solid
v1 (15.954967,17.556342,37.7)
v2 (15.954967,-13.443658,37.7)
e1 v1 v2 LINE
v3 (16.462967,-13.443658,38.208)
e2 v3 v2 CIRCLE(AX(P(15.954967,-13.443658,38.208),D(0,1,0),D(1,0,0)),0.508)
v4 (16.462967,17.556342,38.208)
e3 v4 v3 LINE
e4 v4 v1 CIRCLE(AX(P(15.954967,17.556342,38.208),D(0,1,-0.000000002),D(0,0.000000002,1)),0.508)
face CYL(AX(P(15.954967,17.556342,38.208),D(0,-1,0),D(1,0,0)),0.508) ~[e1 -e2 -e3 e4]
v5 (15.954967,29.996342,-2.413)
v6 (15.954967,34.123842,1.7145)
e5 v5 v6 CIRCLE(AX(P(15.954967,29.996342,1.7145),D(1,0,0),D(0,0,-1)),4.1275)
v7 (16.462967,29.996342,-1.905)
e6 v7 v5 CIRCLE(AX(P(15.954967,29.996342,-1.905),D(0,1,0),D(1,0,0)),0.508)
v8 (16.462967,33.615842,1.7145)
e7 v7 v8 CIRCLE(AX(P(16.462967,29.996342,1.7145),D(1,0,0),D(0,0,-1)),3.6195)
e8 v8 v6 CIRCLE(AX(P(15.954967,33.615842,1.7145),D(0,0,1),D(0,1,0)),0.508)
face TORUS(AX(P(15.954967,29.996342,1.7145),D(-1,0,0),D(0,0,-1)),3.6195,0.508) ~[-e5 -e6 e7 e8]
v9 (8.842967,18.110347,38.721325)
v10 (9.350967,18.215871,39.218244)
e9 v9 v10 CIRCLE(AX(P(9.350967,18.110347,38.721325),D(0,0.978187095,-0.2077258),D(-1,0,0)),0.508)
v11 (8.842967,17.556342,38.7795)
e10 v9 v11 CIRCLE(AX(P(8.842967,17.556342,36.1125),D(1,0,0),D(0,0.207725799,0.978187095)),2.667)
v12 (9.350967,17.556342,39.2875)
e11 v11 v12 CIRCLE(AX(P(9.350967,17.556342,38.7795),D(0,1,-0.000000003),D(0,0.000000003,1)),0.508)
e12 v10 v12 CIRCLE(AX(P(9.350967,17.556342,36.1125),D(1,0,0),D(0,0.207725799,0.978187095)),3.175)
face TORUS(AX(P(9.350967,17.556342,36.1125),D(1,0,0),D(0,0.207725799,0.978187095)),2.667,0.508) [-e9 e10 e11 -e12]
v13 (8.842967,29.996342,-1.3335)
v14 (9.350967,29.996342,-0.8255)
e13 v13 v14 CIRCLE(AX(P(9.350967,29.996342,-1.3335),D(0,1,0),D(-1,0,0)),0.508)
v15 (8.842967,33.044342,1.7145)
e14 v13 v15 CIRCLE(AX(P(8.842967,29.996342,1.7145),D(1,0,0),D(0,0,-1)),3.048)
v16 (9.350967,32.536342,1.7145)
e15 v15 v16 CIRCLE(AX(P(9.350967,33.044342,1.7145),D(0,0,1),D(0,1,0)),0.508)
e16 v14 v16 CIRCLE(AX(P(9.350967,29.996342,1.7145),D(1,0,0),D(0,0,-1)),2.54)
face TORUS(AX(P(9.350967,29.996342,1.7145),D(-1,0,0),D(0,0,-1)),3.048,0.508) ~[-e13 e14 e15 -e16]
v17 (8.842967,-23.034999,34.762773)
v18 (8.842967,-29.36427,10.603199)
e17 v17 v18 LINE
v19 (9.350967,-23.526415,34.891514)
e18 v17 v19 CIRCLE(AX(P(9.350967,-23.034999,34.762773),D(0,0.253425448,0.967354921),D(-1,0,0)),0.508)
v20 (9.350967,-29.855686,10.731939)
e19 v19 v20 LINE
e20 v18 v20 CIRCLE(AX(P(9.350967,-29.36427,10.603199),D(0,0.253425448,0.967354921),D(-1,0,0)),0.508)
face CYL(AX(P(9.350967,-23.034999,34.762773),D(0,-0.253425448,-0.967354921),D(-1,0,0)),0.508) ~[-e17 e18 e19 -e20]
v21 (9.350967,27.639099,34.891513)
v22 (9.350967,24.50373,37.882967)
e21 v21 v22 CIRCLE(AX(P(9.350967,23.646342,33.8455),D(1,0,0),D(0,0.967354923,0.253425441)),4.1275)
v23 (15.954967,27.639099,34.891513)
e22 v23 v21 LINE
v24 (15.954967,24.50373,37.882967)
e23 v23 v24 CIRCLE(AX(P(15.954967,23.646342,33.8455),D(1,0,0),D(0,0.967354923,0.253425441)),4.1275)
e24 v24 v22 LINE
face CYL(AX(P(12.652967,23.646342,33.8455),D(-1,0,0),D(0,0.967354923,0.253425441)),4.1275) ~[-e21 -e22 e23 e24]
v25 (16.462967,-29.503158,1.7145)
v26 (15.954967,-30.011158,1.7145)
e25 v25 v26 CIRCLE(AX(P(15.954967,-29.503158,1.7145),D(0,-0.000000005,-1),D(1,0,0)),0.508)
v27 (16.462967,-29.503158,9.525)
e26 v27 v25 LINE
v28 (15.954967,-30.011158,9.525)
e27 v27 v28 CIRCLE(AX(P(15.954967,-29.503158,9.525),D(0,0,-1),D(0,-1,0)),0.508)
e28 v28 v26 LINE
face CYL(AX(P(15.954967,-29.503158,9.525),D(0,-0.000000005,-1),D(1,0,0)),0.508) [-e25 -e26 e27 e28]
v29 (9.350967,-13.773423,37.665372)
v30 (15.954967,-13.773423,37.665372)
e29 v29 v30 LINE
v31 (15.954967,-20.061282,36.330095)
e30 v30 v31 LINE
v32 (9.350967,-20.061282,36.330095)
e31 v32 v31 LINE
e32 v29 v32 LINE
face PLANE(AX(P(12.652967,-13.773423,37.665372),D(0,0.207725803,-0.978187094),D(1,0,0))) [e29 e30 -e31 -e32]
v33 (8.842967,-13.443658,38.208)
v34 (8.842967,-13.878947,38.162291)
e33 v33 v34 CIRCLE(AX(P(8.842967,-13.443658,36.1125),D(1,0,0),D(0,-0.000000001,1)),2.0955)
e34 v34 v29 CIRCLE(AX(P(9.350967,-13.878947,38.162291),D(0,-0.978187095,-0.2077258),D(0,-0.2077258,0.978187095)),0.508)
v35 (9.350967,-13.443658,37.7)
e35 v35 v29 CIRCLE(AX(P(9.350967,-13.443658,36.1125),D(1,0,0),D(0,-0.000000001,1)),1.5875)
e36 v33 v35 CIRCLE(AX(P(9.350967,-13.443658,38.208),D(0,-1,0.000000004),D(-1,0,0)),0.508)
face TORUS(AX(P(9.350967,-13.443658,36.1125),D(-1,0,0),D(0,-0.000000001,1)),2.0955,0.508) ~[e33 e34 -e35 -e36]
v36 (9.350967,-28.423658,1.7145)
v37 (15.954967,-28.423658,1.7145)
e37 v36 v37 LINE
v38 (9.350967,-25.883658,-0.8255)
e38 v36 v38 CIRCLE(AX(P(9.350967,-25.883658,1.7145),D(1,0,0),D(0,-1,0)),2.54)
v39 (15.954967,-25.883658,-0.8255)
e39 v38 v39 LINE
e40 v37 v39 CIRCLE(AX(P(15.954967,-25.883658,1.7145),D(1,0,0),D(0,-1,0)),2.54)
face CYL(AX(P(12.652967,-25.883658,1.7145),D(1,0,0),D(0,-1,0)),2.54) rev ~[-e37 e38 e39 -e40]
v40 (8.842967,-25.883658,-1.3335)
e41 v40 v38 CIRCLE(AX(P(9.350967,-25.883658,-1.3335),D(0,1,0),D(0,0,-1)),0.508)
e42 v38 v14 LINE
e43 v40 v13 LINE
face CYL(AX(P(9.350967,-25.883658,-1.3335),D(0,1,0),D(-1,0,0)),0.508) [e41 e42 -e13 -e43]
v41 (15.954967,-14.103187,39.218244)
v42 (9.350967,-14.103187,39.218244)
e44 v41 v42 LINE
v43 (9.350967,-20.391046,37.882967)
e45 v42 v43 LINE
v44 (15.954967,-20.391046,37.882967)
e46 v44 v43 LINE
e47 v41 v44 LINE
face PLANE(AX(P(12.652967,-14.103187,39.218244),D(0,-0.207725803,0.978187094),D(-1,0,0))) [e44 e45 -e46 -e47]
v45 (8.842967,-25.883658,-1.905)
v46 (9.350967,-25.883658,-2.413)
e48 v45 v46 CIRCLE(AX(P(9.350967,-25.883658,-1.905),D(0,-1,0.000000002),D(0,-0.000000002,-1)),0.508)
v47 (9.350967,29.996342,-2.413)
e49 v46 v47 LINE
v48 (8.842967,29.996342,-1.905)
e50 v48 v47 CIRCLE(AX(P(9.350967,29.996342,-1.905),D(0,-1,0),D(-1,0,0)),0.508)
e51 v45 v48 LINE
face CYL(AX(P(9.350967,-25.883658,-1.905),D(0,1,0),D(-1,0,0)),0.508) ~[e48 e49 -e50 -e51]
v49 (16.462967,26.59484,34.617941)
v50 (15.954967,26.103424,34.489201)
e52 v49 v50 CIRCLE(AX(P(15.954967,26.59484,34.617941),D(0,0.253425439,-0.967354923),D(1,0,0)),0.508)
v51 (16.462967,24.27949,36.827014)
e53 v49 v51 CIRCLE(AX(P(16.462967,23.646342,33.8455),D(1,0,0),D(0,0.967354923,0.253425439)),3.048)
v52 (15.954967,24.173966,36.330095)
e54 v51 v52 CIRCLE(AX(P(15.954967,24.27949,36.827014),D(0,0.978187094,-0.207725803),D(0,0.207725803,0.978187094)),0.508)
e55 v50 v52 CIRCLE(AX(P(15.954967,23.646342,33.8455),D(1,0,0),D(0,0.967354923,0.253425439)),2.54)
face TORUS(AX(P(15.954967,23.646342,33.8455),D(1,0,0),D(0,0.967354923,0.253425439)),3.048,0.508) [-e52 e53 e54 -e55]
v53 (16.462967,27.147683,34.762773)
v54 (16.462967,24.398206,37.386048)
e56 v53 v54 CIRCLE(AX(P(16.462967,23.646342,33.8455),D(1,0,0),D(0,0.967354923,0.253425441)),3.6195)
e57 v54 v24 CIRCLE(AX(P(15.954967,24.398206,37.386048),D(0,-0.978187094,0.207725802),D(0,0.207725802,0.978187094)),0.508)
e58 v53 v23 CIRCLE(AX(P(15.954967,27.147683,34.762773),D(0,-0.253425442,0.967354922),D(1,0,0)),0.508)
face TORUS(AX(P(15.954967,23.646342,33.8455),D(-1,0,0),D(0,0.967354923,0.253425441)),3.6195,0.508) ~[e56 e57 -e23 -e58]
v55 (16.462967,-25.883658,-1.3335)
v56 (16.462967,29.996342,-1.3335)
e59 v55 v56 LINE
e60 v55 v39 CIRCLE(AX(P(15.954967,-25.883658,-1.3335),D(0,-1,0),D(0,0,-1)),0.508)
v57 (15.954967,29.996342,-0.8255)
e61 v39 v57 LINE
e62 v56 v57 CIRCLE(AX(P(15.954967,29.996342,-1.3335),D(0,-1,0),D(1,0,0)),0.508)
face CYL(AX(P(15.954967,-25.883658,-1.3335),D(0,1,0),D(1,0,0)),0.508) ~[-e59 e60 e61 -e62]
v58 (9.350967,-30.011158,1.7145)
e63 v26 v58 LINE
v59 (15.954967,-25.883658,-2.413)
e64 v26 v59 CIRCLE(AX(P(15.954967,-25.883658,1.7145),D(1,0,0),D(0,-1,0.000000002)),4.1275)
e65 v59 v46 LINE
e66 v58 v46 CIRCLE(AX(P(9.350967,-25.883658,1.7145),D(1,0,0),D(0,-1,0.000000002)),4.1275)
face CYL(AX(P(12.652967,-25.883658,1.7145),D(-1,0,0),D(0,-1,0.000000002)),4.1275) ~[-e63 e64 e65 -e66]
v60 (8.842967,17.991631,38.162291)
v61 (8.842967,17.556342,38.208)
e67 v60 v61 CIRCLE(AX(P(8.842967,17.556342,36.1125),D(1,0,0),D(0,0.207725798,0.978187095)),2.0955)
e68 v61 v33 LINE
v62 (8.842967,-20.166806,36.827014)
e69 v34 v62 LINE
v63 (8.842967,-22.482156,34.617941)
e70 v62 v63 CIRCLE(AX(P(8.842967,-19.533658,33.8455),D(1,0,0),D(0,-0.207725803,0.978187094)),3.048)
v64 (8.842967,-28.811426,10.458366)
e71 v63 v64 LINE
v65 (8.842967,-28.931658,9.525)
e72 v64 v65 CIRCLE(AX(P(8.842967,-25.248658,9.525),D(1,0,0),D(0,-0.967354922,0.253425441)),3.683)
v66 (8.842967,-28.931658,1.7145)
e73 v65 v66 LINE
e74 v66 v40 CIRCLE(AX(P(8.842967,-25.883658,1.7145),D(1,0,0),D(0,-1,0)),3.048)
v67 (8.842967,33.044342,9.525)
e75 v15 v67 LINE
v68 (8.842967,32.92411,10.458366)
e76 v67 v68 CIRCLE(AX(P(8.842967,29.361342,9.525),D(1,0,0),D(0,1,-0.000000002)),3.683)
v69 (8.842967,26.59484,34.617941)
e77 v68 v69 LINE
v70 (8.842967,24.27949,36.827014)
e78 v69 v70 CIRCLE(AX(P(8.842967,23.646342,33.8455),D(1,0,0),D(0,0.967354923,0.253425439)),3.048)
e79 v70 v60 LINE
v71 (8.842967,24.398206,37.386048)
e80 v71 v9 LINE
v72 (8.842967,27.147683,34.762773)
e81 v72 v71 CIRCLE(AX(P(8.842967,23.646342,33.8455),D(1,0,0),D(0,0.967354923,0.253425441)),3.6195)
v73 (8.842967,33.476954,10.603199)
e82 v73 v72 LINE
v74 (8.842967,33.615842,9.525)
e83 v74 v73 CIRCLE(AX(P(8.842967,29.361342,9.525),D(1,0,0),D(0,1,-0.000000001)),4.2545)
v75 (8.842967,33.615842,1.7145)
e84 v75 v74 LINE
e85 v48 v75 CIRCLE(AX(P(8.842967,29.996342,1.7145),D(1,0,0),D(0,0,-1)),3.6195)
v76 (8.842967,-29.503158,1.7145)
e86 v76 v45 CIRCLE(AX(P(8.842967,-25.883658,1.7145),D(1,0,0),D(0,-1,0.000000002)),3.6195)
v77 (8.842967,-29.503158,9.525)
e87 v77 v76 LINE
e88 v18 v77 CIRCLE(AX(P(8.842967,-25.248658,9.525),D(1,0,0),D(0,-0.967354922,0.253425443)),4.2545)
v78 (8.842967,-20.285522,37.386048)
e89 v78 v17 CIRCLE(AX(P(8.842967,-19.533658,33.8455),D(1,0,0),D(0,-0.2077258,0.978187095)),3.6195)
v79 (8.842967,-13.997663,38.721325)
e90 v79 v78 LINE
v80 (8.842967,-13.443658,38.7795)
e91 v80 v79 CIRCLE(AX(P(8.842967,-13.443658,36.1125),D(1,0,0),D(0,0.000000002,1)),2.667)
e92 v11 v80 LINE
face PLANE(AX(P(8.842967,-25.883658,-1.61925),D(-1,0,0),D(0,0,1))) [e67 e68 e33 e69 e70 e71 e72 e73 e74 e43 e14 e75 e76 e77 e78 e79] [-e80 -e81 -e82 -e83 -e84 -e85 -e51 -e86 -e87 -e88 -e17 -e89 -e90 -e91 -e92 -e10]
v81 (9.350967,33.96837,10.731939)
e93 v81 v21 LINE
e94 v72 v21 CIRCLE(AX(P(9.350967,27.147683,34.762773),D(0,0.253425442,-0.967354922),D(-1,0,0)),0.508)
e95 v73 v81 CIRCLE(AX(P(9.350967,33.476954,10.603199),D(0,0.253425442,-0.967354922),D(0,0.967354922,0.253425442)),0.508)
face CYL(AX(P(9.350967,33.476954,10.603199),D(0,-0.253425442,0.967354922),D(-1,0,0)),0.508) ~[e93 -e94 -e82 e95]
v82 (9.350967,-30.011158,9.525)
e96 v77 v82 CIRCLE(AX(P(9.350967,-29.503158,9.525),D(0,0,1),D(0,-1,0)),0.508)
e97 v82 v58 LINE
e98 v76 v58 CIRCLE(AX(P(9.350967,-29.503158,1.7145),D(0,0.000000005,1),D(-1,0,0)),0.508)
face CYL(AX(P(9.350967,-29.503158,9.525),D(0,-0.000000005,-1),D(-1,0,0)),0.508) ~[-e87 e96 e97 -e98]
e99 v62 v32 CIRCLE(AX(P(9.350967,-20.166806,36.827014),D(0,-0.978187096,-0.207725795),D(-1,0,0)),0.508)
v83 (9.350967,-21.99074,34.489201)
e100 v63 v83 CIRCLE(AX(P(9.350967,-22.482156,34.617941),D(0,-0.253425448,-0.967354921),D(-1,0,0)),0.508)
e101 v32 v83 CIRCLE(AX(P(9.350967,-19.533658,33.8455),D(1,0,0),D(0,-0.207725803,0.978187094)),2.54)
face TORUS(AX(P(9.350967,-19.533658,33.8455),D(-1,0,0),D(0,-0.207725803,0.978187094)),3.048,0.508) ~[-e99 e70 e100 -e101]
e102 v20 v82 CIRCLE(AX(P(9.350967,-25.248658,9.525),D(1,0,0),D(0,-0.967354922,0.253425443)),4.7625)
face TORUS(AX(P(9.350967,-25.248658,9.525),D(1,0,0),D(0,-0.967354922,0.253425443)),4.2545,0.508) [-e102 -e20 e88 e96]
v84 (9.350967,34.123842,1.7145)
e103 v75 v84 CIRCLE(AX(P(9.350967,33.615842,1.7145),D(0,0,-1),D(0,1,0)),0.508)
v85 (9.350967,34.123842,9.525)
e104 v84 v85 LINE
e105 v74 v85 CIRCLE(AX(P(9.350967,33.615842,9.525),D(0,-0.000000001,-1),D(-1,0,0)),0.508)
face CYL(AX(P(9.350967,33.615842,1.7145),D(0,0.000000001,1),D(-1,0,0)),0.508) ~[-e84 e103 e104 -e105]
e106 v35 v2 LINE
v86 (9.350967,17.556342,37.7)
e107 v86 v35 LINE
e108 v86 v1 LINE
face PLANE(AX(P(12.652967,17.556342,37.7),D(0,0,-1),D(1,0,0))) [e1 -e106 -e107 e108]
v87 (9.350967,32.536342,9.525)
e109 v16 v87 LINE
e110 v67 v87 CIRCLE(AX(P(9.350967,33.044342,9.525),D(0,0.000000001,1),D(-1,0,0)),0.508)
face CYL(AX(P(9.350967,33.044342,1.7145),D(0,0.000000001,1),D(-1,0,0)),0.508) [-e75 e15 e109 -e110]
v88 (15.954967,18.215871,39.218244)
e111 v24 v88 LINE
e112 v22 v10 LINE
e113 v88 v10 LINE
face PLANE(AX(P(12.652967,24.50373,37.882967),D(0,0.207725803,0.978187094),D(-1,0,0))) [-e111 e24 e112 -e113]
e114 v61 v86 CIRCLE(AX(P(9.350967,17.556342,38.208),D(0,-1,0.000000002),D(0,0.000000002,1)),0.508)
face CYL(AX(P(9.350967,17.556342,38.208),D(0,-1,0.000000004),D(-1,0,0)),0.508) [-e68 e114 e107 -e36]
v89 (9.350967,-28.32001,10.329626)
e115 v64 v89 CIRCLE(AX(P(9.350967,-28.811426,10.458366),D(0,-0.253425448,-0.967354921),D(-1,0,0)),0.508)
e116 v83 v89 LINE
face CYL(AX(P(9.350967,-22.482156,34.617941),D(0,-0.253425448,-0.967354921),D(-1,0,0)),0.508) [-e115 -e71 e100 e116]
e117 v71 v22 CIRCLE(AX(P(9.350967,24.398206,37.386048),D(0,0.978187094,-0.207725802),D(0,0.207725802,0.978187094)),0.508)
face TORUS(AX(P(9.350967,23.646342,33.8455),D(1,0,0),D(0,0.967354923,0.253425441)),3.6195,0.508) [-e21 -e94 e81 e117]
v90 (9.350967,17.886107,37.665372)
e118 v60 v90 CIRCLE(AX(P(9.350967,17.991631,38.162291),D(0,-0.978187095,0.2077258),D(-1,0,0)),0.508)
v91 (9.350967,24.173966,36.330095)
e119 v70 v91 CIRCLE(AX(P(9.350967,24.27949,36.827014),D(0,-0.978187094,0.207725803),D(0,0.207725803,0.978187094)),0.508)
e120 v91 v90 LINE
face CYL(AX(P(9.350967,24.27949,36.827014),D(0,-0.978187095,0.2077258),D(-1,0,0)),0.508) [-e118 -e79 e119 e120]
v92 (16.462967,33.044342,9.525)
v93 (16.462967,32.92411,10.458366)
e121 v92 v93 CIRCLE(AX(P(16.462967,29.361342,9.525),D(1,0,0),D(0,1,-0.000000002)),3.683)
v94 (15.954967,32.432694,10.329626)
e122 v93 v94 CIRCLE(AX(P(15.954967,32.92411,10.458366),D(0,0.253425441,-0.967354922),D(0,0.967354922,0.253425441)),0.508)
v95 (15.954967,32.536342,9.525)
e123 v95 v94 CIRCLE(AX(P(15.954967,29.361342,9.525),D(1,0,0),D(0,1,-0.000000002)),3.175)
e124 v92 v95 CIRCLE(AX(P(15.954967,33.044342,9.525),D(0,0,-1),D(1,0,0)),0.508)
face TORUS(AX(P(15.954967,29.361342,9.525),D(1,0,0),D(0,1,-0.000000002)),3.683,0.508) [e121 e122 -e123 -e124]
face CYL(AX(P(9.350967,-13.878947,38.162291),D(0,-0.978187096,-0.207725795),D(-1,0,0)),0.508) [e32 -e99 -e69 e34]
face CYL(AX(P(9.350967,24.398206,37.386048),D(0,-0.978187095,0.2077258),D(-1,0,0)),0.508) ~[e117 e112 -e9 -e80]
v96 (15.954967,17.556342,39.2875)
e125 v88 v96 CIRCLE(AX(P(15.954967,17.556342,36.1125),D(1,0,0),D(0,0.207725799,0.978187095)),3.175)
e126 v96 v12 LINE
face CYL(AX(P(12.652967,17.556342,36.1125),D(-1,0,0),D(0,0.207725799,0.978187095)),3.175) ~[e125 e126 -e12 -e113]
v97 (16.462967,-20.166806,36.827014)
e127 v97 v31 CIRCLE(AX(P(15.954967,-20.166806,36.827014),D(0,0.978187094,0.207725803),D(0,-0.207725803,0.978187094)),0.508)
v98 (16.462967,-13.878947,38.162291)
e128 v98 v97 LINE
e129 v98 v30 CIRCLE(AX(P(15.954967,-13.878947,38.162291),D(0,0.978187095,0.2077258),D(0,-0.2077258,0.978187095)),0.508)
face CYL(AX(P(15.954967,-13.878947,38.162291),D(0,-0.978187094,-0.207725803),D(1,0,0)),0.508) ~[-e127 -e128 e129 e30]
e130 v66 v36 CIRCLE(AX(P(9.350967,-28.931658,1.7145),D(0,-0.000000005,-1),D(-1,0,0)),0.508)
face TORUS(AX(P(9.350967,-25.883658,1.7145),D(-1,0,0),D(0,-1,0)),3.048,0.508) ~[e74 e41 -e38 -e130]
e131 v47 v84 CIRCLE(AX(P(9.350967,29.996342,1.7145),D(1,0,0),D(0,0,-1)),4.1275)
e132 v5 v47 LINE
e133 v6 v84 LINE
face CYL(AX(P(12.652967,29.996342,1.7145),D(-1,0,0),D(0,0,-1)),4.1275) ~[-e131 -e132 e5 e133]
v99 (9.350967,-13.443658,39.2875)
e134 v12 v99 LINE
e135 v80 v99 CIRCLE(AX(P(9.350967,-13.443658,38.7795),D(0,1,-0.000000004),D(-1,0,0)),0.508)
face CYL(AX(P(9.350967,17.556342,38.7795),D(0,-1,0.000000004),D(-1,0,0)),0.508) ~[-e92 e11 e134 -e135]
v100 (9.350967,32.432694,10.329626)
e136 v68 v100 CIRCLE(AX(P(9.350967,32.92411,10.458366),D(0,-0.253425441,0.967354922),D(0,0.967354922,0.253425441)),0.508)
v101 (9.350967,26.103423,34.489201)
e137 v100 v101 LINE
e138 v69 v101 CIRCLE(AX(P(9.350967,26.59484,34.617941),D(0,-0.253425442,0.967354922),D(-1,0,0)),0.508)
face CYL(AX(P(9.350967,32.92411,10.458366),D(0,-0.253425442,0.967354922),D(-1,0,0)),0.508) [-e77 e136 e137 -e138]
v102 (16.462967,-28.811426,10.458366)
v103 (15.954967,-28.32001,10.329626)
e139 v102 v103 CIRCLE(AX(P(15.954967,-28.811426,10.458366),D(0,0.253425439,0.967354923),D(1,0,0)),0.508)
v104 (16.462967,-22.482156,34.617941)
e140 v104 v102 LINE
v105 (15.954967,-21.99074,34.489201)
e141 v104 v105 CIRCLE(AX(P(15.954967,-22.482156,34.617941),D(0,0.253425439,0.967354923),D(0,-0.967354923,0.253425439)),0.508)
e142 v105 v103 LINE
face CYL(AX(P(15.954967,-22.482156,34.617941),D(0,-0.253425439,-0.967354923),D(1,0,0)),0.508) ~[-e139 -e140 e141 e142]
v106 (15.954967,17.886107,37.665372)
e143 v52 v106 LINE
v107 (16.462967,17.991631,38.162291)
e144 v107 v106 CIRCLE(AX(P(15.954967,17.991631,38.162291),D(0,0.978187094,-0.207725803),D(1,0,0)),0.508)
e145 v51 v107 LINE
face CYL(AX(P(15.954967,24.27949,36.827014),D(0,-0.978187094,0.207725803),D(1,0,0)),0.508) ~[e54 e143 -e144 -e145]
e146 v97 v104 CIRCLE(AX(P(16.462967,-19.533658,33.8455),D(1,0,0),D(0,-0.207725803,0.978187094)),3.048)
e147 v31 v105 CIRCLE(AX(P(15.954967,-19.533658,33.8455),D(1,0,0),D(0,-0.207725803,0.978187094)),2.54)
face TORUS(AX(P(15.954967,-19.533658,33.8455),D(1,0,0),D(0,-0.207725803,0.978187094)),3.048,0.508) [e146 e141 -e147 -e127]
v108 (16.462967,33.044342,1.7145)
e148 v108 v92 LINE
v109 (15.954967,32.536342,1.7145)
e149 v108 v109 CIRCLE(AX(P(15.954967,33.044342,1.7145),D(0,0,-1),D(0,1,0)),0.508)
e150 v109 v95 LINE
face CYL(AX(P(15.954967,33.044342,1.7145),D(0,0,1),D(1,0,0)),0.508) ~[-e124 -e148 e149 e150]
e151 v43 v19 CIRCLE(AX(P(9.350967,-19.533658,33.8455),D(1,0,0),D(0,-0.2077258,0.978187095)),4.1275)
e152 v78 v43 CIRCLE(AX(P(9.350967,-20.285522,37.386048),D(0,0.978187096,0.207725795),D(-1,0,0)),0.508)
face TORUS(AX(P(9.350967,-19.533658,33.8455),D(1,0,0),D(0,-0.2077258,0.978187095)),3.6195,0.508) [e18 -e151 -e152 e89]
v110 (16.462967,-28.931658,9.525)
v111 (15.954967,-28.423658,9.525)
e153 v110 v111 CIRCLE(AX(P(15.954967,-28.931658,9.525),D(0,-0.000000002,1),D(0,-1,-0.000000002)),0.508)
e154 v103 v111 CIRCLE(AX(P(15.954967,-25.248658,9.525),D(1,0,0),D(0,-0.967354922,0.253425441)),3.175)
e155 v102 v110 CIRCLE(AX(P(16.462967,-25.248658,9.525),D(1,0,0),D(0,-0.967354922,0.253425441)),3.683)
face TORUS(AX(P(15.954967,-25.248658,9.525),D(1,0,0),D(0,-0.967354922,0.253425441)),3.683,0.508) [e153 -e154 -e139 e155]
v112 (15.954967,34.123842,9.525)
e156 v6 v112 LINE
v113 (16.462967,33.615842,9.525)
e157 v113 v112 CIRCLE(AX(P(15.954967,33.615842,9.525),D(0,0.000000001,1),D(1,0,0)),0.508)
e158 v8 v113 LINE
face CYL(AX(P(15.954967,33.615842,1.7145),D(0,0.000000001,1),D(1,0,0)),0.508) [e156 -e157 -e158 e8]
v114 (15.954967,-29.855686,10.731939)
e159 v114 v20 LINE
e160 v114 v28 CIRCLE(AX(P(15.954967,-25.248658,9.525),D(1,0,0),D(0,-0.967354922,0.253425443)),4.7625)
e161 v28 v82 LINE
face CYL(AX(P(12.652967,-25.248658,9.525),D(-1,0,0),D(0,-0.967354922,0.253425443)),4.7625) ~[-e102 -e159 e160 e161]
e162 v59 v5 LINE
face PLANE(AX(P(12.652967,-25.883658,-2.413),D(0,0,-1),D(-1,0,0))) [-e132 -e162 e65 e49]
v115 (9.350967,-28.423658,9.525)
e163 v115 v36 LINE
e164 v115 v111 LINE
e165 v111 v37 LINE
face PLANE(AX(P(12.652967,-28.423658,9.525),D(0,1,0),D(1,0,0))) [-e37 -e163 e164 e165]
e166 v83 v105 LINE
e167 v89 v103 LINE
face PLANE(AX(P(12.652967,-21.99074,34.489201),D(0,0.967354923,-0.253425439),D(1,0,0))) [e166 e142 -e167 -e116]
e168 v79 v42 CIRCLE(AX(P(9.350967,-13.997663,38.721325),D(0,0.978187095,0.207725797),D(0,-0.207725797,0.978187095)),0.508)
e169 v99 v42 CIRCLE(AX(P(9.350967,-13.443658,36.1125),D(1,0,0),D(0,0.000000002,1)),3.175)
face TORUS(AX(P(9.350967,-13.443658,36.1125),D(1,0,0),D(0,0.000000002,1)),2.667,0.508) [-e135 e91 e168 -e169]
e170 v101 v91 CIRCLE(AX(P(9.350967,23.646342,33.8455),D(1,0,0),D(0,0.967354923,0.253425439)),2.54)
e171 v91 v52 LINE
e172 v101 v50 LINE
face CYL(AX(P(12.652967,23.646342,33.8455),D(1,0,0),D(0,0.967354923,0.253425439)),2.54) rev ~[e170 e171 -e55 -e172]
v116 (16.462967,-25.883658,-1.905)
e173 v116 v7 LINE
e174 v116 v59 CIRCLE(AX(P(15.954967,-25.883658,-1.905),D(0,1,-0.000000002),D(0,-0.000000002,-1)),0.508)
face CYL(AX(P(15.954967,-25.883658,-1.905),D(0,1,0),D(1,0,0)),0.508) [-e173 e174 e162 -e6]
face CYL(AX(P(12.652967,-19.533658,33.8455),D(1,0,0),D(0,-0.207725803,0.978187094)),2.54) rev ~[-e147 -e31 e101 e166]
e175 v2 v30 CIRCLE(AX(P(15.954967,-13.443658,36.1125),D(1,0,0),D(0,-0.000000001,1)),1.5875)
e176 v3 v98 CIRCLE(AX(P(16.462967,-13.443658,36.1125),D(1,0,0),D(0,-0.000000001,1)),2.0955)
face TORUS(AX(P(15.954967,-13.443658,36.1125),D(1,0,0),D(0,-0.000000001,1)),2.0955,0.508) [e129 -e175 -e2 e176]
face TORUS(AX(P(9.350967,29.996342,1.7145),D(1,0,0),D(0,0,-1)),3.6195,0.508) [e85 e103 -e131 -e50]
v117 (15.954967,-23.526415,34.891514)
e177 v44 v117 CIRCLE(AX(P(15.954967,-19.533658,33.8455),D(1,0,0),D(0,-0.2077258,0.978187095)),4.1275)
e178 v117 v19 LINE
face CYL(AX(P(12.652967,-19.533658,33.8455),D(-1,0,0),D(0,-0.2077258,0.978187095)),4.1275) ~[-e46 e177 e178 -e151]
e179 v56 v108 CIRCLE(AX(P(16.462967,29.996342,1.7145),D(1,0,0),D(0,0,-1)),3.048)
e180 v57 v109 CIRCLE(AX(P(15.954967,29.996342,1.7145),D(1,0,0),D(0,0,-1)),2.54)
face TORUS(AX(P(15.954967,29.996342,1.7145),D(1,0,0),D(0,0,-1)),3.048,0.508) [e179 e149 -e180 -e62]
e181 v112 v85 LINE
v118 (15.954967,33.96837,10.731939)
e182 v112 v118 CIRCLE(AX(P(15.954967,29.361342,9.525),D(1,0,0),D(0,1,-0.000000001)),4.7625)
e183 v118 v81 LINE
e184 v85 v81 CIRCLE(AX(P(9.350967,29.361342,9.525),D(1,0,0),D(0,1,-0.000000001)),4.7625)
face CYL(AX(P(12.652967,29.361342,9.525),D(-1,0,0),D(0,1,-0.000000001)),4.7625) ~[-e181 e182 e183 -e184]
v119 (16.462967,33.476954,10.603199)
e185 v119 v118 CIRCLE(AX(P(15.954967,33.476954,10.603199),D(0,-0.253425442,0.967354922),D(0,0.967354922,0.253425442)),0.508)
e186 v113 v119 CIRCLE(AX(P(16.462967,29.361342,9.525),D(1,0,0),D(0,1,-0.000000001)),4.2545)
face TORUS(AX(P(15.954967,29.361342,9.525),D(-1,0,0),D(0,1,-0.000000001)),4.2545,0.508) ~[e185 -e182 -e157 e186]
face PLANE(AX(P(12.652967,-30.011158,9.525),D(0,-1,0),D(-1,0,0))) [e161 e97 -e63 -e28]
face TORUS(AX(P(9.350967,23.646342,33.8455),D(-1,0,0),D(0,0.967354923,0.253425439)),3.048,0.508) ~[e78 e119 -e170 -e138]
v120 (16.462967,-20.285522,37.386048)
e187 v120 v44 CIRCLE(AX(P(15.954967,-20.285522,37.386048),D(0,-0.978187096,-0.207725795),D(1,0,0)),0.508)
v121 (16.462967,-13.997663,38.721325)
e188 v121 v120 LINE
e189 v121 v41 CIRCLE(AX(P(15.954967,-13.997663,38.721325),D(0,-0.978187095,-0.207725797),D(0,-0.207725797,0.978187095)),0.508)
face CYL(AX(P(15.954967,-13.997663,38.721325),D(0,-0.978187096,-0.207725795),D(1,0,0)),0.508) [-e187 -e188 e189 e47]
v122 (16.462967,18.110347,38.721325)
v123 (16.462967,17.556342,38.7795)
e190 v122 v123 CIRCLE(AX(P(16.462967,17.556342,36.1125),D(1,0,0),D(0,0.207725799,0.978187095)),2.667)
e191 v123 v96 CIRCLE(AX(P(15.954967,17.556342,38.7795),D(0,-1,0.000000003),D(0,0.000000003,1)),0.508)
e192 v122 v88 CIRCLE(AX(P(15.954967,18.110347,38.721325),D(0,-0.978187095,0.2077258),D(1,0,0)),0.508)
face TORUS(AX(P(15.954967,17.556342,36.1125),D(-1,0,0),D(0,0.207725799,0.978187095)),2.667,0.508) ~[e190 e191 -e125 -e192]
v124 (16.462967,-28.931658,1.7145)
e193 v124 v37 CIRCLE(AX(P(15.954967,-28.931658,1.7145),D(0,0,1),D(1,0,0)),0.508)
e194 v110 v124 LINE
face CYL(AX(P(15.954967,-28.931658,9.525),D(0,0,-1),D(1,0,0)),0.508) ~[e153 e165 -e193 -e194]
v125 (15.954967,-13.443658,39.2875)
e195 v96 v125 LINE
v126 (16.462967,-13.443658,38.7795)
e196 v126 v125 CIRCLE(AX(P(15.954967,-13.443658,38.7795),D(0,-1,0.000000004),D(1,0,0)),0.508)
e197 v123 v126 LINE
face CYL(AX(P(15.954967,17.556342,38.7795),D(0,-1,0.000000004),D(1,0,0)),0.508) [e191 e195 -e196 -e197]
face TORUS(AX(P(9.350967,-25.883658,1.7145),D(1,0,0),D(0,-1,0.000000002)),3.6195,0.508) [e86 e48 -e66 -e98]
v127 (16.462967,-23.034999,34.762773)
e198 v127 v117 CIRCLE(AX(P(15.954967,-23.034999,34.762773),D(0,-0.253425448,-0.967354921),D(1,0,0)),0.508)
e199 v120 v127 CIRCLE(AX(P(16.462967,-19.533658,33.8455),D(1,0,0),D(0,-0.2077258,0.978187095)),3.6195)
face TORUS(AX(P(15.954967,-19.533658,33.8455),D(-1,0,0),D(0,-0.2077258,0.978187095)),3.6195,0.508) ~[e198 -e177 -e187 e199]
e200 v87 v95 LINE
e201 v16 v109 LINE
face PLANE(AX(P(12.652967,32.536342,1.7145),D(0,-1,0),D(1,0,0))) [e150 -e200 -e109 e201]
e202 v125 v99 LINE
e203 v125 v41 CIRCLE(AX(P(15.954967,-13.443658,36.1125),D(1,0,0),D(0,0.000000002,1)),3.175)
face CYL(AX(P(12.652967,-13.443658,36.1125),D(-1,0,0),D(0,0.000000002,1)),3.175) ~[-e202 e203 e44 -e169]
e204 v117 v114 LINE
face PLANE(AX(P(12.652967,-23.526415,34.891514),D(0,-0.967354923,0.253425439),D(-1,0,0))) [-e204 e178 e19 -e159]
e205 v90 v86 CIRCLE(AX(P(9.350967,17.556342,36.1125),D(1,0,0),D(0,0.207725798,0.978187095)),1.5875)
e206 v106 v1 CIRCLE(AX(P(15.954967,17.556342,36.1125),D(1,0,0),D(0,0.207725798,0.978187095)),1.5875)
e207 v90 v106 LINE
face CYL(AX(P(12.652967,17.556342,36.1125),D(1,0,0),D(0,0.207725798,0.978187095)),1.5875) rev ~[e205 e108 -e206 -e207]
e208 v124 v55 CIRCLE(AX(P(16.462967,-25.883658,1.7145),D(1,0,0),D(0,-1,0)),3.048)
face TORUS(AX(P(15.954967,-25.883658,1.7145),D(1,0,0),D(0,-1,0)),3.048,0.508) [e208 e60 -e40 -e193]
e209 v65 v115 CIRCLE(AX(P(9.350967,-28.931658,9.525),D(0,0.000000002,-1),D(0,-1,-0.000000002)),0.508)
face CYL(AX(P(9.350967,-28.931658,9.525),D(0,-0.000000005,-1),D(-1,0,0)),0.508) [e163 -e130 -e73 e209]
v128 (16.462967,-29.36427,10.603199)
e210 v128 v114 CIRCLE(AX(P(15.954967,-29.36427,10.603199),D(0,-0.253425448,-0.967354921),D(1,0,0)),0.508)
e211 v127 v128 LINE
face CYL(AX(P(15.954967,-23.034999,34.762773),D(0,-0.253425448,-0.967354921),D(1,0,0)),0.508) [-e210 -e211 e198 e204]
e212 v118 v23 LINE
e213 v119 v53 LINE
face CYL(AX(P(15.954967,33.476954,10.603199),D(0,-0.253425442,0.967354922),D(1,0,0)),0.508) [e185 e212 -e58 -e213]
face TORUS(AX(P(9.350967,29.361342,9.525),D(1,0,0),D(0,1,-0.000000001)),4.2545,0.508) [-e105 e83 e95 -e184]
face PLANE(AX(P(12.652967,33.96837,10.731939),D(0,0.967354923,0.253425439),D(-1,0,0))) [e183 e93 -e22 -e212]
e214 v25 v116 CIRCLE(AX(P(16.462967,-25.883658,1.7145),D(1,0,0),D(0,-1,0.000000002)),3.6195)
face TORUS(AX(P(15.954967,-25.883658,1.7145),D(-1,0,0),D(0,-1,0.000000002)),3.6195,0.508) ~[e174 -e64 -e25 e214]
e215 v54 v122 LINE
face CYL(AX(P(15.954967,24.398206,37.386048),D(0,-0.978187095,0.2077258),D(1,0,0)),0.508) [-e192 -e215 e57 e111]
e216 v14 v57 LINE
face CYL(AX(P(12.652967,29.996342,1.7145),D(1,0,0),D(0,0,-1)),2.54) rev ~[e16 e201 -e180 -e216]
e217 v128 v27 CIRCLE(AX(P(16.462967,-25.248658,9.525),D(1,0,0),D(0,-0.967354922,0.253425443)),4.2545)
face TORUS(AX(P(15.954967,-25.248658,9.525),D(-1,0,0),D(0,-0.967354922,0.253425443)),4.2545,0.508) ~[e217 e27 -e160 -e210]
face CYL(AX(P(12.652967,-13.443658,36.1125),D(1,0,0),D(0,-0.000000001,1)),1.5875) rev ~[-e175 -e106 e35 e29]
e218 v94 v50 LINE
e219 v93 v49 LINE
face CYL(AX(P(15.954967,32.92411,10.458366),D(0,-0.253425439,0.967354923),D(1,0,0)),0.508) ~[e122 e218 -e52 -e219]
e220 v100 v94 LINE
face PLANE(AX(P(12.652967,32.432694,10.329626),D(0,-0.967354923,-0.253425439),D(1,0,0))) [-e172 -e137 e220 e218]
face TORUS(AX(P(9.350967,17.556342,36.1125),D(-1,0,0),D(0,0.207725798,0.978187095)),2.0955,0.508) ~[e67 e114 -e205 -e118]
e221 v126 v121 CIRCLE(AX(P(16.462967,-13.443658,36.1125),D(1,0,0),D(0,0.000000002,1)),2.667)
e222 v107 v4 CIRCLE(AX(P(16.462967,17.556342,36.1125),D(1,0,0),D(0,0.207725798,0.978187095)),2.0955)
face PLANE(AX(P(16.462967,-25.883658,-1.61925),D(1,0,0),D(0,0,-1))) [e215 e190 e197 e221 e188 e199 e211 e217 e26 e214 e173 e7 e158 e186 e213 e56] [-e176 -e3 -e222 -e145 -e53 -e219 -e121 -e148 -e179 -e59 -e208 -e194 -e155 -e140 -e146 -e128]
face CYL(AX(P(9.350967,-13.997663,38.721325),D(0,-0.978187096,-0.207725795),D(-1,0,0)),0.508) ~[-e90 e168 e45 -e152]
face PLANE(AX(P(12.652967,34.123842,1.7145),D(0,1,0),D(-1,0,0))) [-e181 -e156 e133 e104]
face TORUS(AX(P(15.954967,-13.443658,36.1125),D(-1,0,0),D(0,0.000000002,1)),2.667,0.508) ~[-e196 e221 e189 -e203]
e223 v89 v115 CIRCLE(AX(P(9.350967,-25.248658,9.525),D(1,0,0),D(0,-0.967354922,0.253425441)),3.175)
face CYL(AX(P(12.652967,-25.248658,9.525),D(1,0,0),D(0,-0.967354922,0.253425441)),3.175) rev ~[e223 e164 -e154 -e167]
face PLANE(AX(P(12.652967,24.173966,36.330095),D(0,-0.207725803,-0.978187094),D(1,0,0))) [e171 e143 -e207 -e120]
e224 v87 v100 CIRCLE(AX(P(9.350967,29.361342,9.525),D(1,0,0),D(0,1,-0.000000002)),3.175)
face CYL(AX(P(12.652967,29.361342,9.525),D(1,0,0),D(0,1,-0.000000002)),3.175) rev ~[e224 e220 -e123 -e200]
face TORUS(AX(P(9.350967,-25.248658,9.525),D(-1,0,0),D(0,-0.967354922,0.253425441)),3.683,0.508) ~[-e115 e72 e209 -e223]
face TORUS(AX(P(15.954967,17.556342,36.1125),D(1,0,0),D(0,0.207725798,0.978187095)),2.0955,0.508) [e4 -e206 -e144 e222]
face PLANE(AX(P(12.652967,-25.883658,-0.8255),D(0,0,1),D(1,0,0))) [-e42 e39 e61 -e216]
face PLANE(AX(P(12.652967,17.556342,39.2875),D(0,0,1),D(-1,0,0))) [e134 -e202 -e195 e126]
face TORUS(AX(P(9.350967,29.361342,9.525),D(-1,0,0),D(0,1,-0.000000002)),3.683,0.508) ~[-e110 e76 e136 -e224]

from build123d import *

# Parameters (mm, degrees)
SKETCH3_W = 7.62
SKETCH3_H = 1.5875
FILLET1_R = 0.508


with BuildPart() as part:
    # Sweep1: sweep along a path in Sketch2
    with BuildLine(Plane(origin=(12.652967073, 0, 0), x_dir=(0, 0, -1), z_dir=(1, 0, 0))) as sweep1_path:
        Line((0.8255, -25.883657999), (0.8255, 29.996342001))
        ThreePointArc((0.8255, 29.996342001), (0.081551224, 31.792393225), (-1.7145, 32.536342001))
        Line((-1.7145, 32.536342001), (-9.525, 32.536342001))
        ThreePointArc((-9.525, 32.536342001), (-9.930637017, 32.510323362), (-10.329625768, 32.432693881))
        Line((-10.329625768, 32.432693881), (-34.489200615, 26.103423505))
        ThreePointArc((-34.489200615, 26.103423505), (-35.683232492, 25.399721391), (-36.330095218, 24.173965541))
        Line((-36.330095218, 24.173965541), (-37.665372012, 17.886106714))
        ThreePointArc((-37.665372012, 17.886106714), (-37.691319269, 17.72213092), (-37.7, 17.556342001))
        Line((-37.7, 17.556342001), (-37.7, -13.443657999))
        ThreePointArc((-37.7, -13.443657999), (-37.691319269, -13.609446919), (-37.665372012, -13.773422712))
        Line((-37.665372012, -13.773422712), (-36.330095218, -20.061281539))
        ThreePointArc((-36.330095218, -20.061281539), (-35.683232492, -21.287037389), (-34.489200615, -21.990739503))
        Line((-34.489200615, -21.990739503), (-10.329625768, -28.320009879))
        ThreePointArc((-10.329625768, -28.320009879), (-9.930637017, -28.39763936), (-9.525, -28.423657999))
        Line((-9.525, -28.423657999), (-1.7145, -28.423657999))
        ThreePointArc((-1.7145, -28.423657999), (0.081551224, -27.679709223), (0.8255, -25.883657999))
    # Sketch3 → Sweep1 (sweep)
    with BuildSketch(Plane(origin=(0, 0, 0), x_dir=(1, 0, 0), z_dir=(0, 1, 0))):
        with Locations((12.652967073, 1.61925)):
            Rectangle(SKETCH3_W, SKETCH3_H)
    sweep(path=sweep1_path.line)

    # Fillet1
    fillet1_edges = [part.edges().sort_by_distance(p)[0] for p in [
        (16.462967073, -26.691050632, 22.811726076),
        (8.842967073, -26.691050632, 22.811726076),
        (8.842967073, -25.155374691, 22.409413191),
        (16.462967073, -21.287037389, 35.683232492),
        (16.462967073, -22.382899508, 36.8318153),
        (8.842967073, -22.382899508, 36.8318153),
        (8.842967073, -21.287037389, 35.683232492),
        (16.462967073, -16.917352126, 36.997733615),
        (16.462967073, -17.247116838, 38.550605627),
        (8.842967073, -17.247116838, 38.550605627),
        (8.842967073, -16.917352126, 36.997733615),
        (16.462967073, -13.609446919, 37.691319269),
        (16.462967073, -13.775235838, 39.270138538),
        (8.842967073, -13.775235838, 39.270138538),
        (16.462967073, 2.056342001, -0.8255),
        (8.842967073, -13.609446919, 37.691319269),
        (16.462967073, 2.056342001, 37.7),
        (16.462967073, 2.056342001, 39.2875),
        (8.842967073, 2.056342001, 39.2875),
        (8.842967073, 2.056342001, 37.7),
        (16.462967073, 2.056342001, -2.413),
        (16.462967073, 17.72213092, 37.691319269),
        (16.462967073, 17.88791984, 39.270138538),
        (8.842967073, 17.88791984, 39.270138538),
        (8.842967073, 17.72213092, 37.691319269),
        (16.462967073, 21.030036127, 36.997733615),
        (16.462967073, 21.35980084, 38.550605627),
        (8.842967073, 21.35980084, 38.550605627),
        (8.842967073, 2.056342001, -2.413),
        (8.842967073, 21.030036127, 36.997733615),
        (16.462967073, 25.399721391, 35.683232492),
        (16.462967073, 26.49558351, 36.8318153),
        (8.842967073, 26.49558351, 36.8318153),
        (8.842967073, 25.399721391, 35.683232492),
        (16.462967073, 29.268058693, 22.409413191),
        (16.462967073, 30.803734633, 22.811726076),
        (8.842967073, 30.803734633, 22.811726076),
        (8.842967073, 29.268058693, 22.409413191),
        (16.462967073, 32.510323362, 9.930637017),
        (8.842967073, 2.056342001, -0.8255),
        (16.462967073, 34.084814042, 10.133455526),
        (8.842967073, 34.084814042, 10.133455526),
        (8.842967073, 32.510323362, 9.930637017),
        (16.462967073, 32.536342001, 5.61975),
        (16.462967073, 34.123842001, 5.61975),
        (8.842967073, 34.123842001, 5.61975),
        (8.842967073, 32.536342001, 5.61975),
        (16.462967073, 31.792393225, -0.081551224),
        (16.462967073, 32.91492524, -1.204083239),
        (8.842967073, 32.91492524, -1.204083239),
        (8.842967073, 31.792393225, -0.081551224),
        (16.462967073, 2.056342001, -0.8255),
        (16.462967073, 2.056342001, -2.413),
        (8.842967073, 2.056342001, -2.413),
        (8.842967073, 2.056342001, -0.8255),
        (16.462967073, -27.679709223, -0.081551224),
        (16.462967073, -28.802241238, -1.204083239),
        (8.842967073, -28.802241238, -1.204083239),
        (8.842967073, -27.679709223, -0.081551224),
        (16.462967073, -28.423657999, 5.61975),
        (16.462967073, -30.011157999, 5.61975),
        (8.842967073, -30.011157999, 5.61975),
        (8.842967073, -28.423657999, 5.61975),
        (16.462967073, -28.39763936, 9.930637017),
        (16.462967073, -29.97213004, 10.133455526),
        (8.842967073, -29.97213004, 10.133455526),
        (8.842967073, -28.39763936, 9.930637017),
        (16.462967073, -25.155374691, 22.409413191),
    ]]
    fillet(fillet1_edges, radius=FILLET1_R)


solid = part.part
